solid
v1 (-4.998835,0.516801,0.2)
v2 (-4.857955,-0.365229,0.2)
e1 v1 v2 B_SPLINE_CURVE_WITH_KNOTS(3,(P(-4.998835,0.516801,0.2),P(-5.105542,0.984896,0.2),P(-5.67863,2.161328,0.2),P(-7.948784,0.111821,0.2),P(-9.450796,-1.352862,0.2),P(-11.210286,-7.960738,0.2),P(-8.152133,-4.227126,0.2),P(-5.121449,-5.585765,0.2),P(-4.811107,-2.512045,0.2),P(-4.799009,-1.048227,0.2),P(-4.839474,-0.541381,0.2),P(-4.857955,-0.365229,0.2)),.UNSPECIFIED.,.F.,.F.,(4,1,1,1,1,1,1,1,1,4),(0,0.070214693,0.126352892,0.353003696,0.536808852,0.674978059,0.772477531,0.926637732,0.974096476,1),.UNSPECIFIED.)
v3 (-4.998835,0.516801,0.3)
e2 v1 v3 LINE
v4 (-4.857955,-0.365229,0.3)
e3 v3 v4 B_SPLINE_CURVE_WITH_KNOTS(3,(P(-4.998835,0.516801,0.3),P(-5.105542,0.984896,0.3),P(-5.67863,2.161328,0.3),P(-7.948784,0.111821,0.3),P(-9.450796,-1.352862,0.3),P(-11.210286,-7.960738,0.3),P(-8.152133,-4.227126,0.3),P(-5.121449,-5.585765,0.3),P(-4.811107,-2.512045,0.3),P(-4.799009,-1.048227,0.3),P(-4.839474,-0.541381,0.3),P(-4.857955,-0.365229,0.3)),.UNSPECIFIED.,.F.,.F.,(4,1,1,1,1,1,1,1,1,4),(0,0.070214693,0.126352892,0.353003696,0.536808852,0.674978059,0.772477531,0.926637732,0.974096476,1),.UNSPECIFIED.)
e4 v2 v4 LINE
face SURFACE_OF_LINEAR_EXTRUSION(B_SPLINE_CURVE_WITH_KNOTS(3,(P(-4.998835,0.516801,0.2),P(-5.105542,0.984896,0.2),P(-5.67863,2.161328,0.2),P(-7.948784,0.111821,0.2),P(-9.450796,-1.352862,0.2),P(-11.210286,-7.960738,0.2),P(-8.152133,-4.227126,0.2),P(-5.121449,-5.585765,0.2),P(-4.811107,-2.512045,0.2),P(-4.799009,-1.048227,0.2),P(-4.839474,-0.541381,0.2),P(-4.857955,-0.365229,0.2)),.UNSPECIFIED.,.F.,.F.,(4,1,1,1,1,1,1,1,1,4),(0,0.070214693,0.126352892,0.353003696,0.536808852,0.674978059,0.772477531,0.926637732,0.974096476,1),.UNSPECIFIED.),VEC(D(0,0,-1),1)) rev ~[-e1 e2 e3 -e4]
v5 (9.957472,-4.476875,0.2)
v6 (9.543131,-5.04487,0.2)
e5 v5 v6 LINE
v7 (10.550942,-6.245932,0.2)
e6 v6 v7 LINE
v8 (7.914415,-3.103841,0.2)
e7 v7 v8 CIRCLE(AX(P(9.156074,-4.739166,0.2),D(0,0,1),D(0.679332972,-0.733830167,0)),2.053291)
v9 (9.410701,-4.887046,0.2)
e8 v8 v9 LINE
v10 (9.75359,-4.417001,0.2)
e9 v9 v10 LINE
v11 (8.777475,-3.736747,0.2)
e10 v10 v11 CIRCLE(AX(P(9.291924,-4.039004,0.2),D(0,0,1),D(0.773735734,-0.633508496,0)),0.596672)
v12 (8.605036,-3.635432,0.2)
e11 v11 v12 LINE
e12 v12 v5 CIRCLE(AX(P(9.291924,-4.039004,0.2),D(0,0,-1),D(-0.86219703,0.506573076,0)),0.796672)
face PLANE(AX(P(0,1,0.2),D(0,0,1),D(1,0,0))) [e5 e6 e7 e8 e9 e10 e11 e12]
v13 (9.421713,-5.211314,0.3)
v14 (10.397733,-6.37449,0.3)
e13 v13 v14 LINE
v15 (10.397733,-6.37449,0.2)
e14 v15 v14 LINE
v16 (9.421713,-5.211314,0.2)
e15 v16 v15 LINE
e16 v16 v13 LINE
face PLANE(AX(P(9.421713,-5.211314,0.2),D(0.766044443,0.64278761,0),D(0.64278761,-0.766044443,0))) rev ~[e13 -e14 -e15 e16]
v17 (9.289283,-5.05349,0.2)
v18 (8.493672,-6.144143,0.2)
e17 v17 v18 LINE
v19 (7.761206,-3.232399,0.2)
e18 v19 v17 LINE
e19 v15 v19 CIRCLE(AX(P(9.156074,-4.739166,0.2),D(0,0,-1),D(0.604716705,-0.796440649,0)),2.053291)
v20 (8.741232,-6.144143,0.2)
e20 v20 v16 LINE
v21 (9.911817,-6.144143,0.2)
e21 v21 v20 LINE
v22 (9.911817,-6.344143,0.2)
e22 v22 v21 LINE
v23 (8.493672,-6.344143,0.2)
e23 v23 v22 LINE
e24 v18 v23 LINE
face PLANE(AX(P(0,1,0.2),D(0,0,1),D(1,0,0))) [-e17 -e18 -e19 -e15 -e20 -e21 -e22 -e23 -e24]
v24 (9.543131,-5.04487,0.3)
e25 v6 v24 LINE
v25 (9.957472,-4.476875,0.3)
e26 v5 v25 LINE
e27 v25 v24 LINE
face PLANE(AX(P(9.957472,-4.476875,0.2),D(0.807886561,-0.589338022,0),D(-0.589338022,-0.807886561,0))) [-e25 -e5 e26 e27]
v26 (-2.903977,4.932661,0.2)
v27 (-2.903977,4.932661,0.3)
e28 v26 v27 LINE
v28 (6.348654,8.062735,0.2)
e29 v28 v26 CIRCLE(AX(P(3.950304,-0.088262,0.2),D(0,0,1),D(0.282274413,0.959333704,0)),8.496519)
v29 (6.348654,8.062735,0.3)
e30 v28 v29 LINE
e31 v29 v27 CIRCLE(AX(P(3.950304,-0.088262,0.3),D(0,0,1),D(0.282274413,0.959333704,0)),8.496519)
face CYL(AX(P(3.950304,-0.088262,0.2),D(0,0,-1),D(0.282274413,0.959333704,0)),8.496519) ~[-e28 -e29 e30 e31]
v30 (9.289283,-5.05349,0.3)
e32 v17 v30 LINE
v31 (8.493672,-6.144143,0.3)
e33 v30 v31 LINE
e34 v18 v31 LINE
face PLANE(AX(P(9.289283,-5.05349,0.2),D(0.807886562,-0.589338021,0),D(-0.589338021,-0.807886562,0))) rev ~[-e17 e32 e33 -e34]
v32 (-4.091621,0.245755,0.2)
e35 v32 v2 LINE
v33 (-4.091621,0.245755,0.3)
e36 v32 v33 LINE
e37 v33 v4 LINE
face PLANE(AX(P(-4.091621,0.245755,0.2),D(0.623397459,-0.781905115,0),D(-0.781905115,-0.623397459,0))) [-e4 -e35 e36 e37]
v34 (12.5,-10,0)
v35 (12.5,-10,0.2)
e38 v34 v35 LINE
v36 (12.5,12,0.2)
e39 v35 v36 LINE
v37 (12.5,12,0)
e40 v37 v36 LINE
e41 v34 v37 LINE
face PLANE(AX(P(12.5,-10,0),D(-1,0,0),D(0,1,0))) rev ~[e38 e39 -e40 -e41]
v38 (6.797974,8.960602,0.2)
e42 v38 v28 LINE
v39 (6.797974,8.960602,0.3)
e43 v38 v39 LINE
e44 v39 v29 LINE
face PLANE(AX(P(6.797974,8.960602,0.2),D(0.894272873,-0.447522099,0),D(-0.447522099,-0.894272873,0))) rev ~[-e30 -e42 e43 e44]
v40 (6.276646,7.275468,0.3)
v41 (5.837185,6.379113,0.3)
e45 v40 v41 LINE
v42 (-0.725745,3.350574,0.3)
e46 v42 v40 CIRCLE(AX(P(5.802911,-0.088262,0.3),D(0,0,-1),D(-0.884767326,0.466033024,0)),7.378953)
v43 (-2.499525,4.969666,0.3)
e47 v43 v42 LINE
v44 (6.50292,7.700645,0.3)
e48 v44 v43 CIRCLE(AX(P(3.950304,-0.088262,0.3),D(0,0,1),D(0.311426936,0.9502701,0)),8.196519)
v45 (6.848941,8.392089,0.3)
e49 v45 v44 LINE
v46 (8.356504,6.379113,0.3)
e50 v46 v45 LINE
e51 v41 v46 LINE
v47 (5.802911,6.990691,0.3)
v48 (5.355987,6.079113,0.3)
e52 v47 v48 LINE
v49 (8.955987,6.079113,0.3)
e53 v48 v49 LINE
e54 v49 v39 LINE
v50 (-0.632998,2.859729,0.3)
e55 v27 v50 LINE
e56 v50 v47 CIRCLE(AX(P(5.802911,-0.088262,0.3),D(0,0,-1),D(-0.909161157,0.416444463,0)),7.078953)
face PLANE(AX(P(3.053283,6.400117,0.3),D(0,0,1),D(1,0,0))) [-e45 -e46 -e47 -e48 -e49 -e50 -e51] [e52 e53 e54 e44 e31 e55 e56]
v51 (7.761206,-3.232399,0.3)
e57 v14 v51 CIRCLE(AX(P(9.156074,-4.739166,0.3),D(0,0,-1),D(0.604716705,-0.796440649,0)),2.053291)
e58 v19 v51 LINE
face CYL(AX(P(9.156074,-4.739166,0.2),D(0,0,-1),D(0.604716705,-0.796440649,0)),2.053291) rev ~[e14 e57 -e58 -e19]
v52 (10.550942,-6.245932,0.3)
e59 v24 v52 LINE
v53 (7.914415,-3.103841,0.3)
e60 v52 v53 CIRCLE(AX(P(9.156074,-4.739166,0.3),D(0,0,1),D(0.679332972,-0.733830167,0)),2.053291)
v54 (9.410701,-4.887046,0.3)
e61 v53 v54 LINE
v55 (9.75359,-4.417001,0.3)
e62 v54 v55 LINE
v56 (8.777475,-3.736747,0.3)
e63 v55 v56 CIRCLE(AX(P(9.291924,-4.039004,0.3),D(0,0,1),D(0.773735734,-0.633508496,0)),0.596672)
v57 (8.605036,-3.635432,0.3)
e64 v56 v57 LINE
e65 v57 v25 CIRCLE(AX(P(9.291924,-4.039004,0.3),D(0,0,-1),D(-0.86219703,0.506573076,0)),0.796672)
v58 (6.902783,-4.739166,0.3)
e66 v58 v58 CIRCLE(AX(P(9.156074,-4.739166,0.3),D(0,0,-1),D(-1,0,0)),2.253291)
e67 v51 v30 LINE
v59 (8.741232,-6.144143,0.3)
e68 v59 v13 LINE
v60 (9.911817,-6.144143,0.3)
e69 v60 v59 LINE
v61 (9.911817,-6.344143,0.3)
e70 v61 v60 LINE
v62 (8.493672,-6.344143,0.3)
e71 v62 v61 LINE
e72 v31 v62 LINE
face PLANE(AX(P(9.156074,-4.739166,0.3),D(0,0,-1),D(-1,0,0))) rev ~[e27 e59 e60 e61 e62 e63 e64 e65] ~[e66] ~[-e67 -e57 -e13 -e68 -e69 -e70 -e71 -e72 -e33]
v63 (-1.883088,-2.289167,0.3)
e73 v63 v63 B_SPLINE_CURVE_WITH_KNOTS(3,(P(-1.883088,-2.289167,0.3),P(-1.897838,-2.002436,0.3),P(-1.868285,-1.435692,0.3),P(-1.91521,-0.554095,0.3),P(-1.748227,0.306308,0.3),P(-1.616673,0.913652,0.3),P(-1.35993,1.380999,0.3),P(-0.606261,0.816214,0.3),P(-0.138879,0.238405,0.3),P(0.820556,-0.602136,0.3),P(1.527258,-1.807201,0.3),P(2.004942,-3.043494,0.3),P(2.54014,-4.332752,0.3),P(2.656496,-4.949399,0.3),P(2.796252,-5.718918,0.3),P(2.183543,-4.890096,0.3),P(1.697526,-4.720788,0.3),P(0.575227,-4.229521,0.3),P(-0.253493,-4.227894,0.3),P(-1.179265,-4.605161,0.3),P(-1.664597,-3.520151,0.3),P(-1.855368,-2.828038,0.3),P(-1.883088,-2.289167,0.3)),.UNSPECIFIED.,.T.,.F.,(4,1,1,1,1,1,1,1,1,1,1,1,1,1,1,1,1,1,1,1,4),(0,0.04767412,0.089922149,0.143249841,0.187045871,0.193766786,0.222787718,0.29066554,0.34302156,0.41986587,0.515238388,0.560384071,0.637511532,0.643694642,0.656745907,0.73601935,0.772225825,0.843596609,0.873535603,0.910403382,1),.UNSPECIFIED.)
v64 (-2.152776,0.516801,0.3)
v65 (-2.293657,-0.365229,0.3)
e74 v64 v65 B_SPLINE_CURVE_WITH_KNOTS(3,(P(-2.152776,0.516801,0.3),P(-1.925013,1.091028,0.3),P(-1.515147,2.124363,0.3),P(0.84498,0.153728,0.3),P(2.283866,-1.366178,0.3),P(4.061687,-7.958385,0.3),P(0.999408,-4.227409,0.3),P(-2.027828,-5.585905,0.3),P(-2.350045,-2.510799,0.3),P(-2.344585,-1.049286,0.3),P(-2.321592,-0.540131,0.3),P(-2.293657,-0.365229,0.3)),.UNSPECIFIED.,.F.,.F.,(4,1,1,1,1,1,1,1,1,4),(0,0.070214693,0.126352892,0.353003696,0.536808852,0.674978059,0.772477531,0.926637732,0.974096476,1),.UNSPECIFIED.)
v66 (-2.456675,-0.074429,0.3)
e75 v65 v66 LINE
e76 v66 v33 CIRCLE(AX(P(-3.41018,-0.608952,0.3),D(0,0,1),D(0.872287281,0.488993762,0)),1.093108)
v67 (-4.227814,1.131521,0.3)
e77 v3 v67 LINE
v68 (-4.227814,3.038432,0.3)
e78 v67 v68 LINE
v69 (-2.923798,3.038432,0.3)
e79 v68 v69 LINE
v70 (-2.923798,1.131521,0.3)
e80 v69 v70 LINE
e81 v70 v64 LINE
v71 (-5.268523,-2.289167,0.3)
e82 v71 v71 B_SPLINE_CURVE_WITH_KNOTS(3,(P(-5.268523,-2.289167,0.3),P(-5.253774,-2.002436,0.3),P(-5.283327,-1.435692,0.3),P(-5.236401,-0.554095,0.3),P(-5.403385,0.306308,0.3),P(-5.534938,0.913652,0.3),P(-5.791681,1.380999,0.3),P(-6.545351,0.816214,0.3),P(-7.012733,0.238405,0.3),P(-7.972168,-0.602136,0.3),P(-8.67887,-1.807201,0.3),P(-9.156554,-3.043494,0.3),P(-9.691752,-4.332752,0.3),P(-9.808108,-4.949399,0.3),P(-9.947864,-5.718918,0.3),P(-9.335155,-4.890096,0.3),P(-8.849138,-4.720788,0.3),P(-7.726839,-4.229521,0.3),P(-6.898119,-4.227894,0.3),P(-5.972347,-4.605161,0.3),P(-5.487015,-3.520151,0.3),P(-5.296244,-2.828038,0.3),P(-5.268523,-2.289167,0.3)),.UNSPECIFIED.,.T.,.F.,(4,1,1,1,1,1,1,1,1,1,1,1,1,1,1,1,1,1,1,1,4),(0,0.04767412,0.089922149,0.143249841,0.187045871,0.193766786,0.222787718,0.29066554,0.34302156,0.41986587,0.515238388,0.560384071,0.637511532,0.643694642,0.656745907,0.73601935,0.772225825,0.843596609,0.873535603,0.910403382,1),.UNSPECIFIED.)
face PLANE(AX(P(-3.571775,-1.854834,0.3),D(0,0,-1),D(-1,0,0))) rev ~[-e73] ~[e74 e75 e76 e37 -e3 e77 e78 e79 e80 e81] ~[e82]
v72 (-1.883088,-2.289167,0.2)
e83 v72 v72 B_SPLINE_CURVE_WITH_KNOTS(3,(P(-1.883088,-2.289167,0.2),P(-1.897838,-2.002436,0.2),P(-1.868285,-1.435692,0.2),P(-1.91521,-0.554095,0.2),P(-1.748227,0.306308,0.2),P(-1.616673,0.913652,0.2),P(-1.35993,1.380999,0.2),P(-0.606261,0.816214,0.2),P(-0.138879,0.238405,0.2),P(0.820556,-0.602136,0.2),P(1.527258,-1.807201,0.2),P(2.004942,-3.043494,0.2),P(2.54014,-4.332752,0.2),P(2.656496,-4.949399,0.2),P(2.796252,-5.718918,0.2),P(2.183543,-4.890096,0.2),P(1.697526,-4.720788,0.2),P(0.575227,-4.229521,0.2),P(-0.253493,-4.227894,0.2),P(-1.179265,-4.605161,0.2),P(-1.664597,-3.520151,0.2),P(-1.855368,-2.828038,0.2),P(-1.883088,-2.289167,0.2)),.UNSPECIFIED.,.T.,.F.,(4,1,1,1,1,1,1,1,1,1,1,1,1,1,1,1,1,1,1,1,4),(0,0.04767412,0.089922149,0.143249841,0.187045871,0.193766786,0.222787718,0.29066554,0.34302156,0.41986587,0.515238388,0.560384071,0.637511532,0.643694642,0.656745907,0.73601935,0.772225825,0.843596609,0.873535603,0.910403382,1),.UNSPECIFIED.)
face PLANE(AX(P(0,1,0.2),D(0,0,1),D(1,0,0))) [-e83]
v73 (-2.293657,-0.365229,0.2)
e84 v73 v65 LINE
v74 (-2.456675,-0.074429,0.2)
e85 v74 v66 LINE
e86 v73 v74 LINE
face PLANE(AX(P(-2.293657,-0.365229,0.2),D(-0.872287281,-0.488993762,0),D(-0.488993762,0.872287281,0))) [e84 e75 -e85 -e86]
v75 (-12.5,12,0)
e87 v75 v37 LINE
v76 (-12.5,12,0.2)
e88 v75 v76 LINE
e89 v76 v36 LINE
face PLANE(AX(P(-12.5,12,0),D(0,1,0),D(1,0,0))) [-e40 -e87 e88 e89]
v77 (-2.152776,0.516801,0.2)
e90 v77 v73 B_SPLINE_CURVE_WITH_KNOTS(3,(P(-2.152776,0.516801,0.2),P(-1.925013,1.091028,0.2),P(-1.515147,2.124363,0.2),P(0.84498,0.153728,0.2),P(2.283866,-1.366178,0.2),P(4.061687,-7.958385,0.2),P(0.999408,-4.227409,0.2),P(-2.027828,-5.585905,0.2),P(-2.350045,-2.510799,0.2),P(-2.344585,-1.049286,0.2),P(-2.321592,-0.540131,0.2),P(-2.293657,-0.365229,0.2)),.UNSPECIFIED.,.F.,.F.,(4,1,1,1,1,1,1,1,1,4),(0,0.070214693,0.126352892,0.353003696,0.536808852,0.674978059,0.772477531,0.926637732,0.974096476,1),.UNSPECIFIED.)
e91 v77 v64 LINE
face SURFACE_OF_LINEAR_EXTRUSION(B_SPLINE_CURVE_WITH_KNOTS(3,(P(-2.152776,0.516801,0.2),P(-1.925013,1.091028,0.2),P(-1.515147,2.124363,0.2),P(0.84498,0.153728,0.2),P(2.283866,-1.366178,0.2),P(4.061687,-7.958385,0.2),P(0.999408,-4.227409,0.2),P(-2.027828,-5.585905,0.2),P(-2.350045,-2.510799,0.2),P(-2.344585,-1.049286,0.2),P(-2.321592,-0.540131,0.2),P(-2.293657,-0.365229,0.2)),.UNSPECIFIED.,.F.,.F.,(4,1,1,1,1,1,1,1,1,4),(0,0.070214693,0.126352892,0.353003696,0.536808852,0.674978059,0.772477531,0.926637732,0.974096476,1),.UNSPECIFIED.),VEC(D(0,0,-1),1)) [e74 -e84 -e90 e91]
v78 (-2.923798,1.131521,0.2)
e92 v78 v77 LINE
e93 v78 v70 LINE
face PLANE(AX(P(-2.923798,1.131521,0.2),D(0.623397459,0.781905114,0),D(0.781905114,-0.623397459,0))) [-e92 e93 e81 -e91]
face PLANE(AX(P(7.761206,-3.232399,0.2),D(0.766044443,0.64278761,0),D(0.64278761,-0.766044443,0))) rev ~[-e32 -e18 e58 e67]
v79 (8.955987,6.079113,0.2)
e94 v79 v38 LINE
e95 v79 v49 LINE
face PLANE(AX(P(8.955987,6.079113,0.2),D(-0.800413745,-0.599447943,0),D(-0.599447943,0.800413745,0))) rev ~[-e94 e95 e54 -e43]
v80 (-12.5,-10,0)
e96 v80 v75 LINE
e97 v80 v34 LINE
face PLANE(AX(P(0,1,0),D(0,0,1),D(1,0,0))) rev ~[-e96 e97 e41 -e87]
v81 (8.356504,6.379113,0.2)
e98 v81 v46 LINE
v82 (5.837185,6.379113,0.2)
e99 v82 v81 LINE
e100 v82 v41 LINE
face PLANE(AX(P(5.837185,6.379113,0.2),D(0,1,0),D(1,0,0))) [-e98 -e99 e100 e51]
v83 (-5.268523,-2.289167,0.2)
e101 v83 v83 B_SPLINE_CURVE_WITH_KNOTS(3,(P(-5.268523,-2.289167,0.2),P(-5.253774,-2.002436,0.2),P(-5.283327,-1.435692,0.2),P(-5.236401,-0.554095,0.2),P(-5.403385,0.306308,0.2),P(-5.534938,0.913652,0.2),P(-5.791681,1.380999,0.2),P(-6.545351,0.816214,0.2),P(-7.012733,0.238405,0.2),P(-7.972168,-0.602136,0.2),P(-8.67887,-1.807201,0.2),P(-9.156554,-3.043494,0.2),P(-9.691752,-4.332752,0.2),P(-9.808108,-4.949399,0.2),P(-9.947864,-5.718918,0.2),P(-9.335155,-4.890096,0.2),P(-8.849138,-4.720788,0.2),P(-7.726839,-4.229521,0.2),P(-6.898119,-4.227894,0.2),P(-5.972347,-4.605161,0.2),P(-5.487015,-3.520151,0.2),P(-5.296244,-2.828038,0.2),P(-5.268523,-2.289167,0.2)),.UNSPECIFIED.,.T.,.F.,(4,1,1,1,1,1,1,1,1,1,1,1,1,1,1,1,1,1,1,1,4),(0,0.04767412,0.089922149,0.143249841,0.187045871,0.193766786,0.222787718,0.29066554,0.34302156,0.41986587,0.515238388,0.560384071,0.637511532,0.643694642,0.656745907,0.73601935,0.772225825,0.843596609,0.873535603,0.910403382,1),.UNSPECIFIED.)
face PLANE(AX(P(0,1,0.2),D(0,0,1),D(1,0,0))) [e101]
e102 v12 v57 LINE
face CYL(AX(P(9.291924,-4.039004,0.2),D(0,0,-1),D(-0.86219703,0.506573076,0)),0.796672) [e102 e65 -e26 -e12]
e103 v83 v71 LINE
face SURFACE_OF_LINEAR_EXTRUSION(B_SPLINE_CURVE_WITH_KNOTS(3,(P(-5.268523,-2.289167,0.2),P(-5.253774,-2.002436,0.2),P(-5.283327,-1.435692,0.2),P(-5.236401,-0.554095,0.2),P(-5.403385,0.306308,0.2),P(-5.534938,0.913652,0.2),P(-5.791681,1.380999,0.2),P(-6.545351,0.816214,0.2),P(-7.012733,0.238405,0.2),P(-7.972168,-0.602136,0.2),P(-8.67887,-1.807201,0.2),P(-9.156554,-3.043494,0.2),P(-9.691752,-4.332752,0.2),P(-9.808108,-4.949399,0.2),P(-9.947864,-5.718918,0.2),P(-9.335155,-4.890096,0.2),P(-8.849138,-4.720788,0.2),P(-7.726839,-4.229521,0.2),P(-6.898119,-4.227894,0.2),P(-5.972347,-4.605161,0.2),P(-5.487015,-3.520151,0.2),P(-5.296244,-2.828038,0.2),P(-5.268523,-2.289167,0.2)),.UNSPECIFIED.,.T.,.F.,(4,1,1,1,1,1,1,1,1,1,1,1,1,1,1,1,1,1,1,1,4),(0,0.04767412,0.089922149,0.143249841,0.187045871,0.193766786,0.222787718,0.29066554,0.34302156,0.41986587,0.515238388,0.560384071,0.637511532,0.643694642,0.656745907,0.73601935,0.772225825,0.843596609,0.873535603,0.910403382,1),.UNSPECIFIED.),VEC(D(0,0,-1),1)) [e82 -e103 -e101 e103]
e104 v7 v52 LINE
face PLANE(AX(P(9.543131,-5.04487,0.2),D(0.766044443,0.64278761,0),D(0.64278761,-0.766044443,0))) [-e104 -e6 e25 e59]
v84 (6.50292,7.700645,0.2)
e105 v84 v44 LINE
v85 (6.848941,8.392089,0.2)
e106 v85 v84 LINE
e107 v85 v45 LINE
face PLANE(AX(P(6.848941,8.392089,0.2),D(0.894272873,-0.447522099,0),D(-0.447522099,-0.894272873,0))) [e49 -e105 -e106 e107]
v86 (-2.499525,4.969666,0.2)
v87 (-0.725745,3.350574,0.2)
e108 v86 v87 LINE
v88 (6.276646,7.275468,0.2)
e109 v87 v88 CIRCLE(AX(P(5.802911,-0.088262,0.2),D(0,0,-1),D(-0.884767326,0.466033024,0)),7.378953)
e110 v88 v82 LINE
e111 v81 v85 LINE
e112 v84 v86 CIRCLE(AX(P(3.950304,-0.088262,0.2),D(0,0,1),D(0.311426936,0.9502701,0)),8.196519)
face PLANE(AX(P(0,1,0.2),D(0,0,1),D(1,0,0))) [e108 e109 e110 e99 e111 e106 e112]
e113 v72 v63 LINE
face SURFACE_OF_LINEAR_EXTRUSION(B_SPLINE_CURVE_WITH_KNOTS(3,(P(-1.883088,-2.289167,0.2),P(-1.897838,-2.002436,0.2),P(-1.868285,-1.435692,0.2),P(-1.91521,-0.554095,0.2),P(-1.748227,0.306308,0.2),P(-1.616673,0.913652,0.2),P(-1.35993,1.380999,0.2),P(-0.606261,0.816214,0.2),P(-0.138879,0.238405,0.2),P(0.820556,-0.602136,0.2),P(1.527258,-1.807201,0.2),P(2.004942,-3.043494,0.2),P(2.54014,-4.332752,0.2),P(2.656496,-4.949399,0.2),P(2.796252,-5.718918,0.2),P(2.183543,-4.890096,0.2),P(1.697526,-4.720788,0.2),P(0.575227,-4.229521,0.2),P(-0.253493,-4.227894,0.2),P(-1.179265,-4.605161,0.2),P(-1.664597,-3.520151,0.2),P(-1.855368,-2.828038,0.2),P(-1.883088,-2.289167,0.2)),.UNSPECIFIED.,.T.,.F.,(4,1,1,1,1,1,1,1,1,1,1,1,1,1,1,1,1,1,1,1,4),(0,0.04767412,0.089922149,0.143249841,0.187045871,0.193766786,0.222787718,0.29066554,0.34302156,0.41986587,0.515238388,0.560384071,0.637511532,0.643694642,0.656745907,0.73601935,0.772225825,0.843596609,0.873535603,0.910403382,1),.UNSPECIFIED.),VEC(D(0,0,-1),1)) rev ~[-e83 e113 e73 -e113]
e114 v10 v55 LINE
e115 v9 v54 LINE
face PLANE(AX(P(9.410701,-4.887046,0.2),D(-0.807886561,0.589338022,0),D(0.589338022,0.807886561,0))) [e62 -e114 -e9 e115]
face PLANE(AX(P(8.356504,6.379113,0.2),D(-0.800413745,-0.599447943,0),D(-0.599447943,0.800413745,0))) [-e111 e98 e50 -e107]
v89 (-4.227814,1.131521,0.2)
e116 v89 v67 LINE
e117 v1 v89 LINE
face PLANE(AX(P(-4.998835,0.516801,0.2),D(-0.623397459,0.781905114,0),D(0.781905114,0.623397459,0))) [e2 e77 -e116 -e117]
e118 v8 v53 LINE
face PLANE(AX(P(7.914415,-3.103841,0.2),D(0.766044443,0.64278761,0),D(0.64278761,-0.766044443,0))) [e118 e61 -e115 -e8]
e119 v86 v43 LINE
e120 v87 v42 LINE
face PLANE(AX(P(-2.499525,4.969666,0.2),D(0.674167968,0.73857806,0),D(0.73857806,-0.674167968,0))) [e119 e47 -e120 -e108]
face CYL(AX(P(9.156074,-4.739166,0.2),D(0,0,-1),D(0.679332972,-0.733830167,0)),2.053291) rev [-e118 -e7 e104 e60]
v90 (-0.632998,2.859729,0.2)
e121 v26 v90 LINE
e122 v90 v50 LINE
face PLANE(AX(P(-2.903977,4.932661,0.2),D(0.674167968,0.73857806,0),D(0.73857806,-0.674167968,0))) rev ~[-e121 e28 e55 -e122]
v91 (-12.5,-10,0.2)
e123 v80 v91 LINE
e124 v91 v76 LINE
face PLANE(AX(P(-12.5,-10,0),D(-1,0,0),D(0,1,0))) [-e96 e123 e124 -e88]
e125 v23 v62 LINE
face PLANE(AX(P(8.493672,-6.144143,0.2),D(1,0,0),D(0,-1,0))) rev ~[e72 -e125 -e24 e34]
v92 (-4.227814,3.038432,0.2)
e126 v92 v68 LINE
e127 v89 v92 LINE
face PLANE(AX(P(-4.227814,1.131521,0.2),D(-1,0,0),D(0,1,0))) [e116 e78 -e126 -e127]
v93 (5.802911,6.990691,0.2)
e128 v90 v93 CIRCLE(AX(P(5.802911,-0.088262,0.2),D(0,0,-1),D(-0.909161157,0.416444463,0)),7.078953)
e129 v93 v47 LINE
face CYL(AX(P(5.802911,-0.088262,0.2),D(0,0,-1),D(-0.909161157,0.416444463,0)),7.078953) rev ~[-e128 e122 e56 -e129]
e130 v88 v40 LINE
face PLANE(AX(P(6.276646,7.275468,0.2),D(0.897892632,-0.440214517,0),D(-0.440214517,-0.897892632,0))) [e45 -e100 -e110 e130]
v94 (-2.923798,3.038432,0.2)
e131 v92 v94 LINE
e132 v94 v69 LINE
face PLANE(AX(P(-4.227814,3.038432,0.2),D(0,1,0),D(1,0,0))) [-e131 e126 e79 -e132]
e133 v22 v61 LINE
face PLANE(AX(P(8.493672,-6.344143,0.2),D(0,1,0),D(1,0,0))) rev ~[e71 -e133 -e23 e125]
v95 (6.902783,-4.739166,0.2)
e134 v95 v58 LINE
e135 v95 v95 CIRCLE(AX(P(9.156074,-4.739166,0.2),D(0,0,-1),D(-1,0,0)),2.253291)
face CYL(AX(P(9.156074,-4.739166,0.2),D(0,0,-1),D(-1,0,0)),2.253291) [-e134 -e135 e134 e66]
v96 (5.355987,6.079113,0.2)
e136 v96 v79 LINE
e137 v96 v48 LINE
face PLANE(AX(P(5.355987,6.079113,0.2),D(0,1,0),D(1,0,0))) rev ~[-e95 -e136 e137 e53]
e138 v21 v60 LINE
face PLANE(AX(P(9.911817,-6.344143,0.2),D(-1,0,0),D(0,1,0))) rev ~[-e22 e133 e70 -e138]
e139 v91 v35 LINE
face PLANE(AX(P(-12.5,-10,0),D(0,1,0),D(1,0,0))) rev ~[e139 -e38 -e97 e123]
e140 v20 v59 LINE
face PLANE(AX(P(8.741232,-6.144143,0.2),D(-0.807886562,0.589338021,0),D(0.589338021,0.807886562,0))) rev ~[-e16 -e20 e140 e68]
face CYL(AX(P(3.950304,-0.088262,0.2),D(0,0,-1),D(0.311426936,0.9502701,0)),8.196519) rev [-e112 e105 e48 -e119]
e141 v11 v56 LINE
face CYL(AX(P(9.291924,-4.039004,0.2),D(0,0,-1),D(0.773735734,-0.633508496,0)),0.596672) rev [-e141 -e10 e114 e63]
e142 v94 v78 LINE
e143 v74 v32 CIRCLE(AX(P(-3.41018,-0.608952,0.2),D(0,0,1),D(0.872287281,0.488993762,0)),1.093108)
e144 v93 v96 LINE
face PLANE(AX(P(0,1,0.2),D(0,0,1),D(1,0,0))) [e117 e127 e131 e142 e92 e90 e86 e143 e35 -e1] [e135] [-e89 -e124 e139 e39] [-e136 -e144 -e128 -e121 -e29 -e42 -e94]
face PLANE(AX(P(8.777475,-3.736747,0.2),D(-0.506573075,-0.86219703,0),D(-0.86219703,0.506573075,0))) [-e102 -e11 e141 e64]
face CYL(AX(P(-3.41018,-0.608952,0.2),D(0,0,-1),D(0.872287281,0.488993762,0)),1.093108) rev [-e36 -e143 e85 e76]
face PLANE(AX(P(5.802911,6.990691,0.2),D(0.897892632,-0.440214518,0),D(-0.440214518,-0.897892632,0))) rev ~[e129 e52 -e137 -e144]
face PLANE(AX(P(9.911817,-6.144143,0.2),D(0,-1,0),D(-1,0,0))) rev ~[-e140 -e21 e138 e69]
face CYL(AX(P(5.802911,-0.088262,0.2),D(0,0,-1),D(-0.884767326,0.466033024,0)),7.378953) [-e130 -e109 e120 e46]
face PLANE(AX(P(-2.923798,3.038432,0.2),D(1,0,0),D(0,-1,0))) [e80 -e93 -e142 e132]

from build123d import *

# Parameters (mm, degrees)
ESQUISSE1_W      = 25
ESQUISSE1_H      = 22
EXTRUSION1_DEPTH = 0.2
EXTRUSION2_DEPTH = 0.1
EXTRUSION3_DEPTH = 0.1
ESQUISSE7_R      = 2.25329073
EXTRUSION4_DEPTH = 0.1


with BuildPart() as part:
    # Esquisse1 → Extrusion1 (new body)
    with BuildSketch(Plane.XY):
        with Locations((0, 1)):
            Rectangle(ESQUISSE1_W, ESQUISSE1_H)
    extrude(amount=EXTRUSION1_DEPTH)

    # Esquisse2 → Extrusion2 (add)
    with BuildSketch(Plane(origin=(-107.948096464, -44.966627708, 0.2), x_dir=(1, 0, 0), z_dir=(0, 0, 1))):
        with BuildLine():
            Line((102.949261002, 45.483428738), (103.720282646, 46.098149022))
            Line((103.720282646, 46.098149022), (103.720282646, 48.005059554))
            Line((103.720282646, 48.005059554), (105.02429837, 48.005059554))
            Line((105.02429837, 48.005059554), (105.02429837, 46.098149022))
            Line((105.02429837, 46.098149022), (105.795320014, 45.483428738))
            add(Edge.make_bspline(
                [(105.795320014, 45.483428738), (106.023083801, 46.05765588), (106.43294977, 47.090990317), (108.793076551, 45.120355487), (110.23196293, 43.600450018), (112.009783829, 37.008242786), (108.947504044, 40.739218695), (105.920268617, 39.380722256), (105.598051775, 42.455828729), (105.603511107, 43.917341833), (105.626504017, 44.426496972), (105.654439858, 44.601399102)],
                knots=[0, 0, 0, 0, 0.070214693, 0.126352892, 0.353003696, 0.536808852, 0.674978059, 0.772477531, 0.926637732, 0.974096476, 1, 1, 1, 1], degree=3))
            Line((105.654439858, 44.601399102), (105.491421153, 44.892198605))
            ThreePointArc((105.491421153, 44.892198605), (104.747997746, 45.430406434), (103.856475694, 45.212382446))
            Line((103.856475694, 45.212382446), (103.090141159, 44.601399102))
            add(Edge.make_bspline(
                [(102.949261002, 45.483428738), (102.842554052, 45.951523367), (102.269466321, 47.127955864), (99.999312676, 45.078448352), (98.497300793, 43.613766072), (96.737810547, 37.005890047), (99.795963609, 40.739501774), (102.826647222, 39.380862809), (103.13698992, 42.454582886), (103.149087763, 43.918400822), (103.108622435, 44.42524687), (103.090141159, 44.601399102)],
                knots=[0, 0, 0, 0, 0.070214693, 0.126352892, 0.353003696, 0.536808852, 0.674978059, 0.772477531, 0.926637732, 0.974096476, 1, 1, 1, 1], degree=3))
        make_face()
        with BuildLine():
            add(Edge.make_bspline(
                [(102.679572974, 42.677460231), (102.694322887, 42.964191792), (102.664769839, 43.530935243), (102.711694999, 44.412532989), (102.544711504, 45.272935951), (102.413158048, 45.880279322), (102.156415046, 46.347626706), (101.402745499, 45.782842057), (100.935363275, 45.20503274), (99.975928518, 44.364491485), (99.269226727, 43.159426219), (98.791542376, 41.923133934), (98.256344722, 40.633875473), (98.139988834, 40.017228507), (98.000232203, 39.247709869), (98.612941698, 40.07653207), (99.098958717, 40.245840024), (100.22125792, 40.73710692), (101.049977549, 40.738734163), (101.975749608, 40.361466955), (102.46108139, 41.446476935), (102.651852646, 42.138589706), (102.679572974, 42.677460231)],
                knots=[0, 0, 0, 0, 0.04767412, 0.089922149, 0.143249841, 0.187045871, 0.193766786, 0.222787718, 0.29066554, 0.34302156, 0.41986587, 0.515238388, 0.560384071, 0.637511532, 0.643694642, 0.656745907, 0.73601935, 0.772225825, 0.843596609, 0.873535603, 0.910403382, 1, 1, 1, 1], degree=3))
        make_face(mode=Mode.SUBTRACT)
        with BuildLine():
            add(Edge.make_bspline(
                [(106.065008042, 42.677460231), (106.05025813, 42.964191792), (106.079811177, 43.530935243), (106.032886018, 44.412532989), (106.199869512, 45.272935951), (106.331422968, 45.880279322), (106.58816597, 46.347626706), (107.341835518, 45.782842057), (107.809217742, 45.20503274), (108.768652498, 44.364491485), (109.475354289, 43.159426219), (109.95303864, 41.923133934), (110.488236295, 40.633875473), (110.604592182, 40.017228507), (110.744348813, 39.247709869), (110.131639318, 40.07653207), (109.645622299, 40.245840024), (108.523323096, 40.73710692), (107.694603467, 40.738734163), (106.768831409, 40.361466955), (106.283499627, 41.446476935), (106.09272837, 42.138589706), (106.065008042, 42.677460231)],
                knots=[0, 0, 0, 0, 0.04767412, 0.089922149, 0.143249841, 0.187045871, 0.193766786, 0.222787718, 0.29066554, 0.34302156, 0.41986587, 0.515238388, 0.560384071, 0.637511532, 0.643694642, 0.656745907, 0.73601935, 0.772225825, 0.843596609, 0.873535603, 0.910403382, 1, 1, 1, 1], degree=3))
        make_face(mode=Mode.SUBTRACT)
    extrude(amount=EXTRUSION2_DEPTH)

    # Esquisse5 → Extrusion3 (add)
    with BuildSketch(Plane(origin=(-95.584444445, -42.571313251, 0.2), x_dir=(1, 0, 0), z_dir=(0, 0, 1))):
        with BuildLine():
            Line((101.387355657, 49.56200431), (100.940431274, 48.650425764))
            Line((100.940431274, 48.650425764), (104.540431274, 48.650425764))
            Line((104.540431274, 48.650425764), (102.38241868, 51.531915247))
            Line((102.38241868, 51.531915247), (101.933097969, 50.63404825))
            ThreePointArc((101.933097969, 50.63404825), (96.81203399, 50.531508337), (92.680467071, 47.503973778))
            Line((92.680467071, 47.503973778), (94.951446765, 45.431042224))
            ThreePointArc((94.951446765, 45.431042224), (97.563556138, 48.440410818), (101.387355657, 49.56200431))
        make_face()
        with BuildLine():
            Line((93.084919507, 47.540978834), (94.858699346, 45.921887211))
            ThreePointArc((94.858699346, 45.921887211), (97.779486867, 48.919838532), (101.861090542, 49.846781522))
            Line((101.861090542, 49.846781522), (101.421629516, 48.950425764))
            Line((101.421629516, 48.950425764), (103.940948338, 48.950425764))
            Line((103.940948338, 48.950425764), (102.433384951, 50.963401988))
            Line((102.433384951, 50.963401988), (102.087364838, 50.271958143))
            ThreePointArc((102.087364838, 50.271958143), (97.155330732, 50.326602443), (93.084919507, 47.540978834))
        make_face(mode=Mode.SUBTRACT)
    extrude(amount=EXTRUSION3_DEPTH)

    # Esquisse7 → Extrusion4 (add)
    with BuildSketch(Plane(origin=(0, 0, 0.2), x_dir=(-1, 0, 0), z_dir=(0, 0, -1))):
        with Locations((-9.156073865, -4.739165592)):
            Circle(ESQUISSE7_R)
        with BuildLine():
            Line((-7.91441466, -3.103841391), (-9.410700922, -4.887045919))
            Line((-9.410700922, -4.887045919), (-9.753589967, -4.417000816))
            ThreePointArc((-9.753589967, -4.417000816), (-9.633073316, -3.549480021), (-8.77747537, -3.736746535))
            Line((-8.77747537, -3.736746535), (-8.605035964, -3.63543192))
            ThreePointArc((-8.605035964, -3.63543192), (-9.712780677, -3.362568683), (-9.95747235, -4.47687505))
            Line((-9.95747235, -4.47687505), (-9.543130883, -5.044869801))
            Line((-9.543130883, -5.044869801), (-10.550941959, -6.245932271))
            ThreePointArc((-10.550941959, -6.245932271), (-10.728985819, -3.419335751), (-7.91441466, -3.103841391))
        make_face(mode=Mode.SUBTRACT)
        with BuildLine():
            Line((-7.761205772, -3.232398913), (-9.289282883, -5.0534903))
            Line((-9.289282883, -5.0534903), (-8.49367238, -6.144142881))
            Line((-8.49367238, -6.144142881), (-8.49367238, -6.344142881))
            Line((-8.49367238, -6.344142881), (-9.91181719, -6.344142881))
            Line((-9.91181719, -6.344142881), (-9.91181719, -6.144142881))
            Line((-9.91181719, -6.144142881), (-8.741231888, -6.144142881))
            Line((-8.741231888, -6.144142881), (-9.421712844, -5.211314182))
            Line((-9.421712844, -5.211314182), (-10.39773307, -6.374489793))
            ThreePointArc((-10.39773307, -6.374489793), (-7.583161911, -6.058995432), (-7.761205772, -3.232398913))
        make_face(mode=Mode.SUBTRACT)
    extrude(amount=-EXTRUSION4_DEPTH)


solid = part.part
